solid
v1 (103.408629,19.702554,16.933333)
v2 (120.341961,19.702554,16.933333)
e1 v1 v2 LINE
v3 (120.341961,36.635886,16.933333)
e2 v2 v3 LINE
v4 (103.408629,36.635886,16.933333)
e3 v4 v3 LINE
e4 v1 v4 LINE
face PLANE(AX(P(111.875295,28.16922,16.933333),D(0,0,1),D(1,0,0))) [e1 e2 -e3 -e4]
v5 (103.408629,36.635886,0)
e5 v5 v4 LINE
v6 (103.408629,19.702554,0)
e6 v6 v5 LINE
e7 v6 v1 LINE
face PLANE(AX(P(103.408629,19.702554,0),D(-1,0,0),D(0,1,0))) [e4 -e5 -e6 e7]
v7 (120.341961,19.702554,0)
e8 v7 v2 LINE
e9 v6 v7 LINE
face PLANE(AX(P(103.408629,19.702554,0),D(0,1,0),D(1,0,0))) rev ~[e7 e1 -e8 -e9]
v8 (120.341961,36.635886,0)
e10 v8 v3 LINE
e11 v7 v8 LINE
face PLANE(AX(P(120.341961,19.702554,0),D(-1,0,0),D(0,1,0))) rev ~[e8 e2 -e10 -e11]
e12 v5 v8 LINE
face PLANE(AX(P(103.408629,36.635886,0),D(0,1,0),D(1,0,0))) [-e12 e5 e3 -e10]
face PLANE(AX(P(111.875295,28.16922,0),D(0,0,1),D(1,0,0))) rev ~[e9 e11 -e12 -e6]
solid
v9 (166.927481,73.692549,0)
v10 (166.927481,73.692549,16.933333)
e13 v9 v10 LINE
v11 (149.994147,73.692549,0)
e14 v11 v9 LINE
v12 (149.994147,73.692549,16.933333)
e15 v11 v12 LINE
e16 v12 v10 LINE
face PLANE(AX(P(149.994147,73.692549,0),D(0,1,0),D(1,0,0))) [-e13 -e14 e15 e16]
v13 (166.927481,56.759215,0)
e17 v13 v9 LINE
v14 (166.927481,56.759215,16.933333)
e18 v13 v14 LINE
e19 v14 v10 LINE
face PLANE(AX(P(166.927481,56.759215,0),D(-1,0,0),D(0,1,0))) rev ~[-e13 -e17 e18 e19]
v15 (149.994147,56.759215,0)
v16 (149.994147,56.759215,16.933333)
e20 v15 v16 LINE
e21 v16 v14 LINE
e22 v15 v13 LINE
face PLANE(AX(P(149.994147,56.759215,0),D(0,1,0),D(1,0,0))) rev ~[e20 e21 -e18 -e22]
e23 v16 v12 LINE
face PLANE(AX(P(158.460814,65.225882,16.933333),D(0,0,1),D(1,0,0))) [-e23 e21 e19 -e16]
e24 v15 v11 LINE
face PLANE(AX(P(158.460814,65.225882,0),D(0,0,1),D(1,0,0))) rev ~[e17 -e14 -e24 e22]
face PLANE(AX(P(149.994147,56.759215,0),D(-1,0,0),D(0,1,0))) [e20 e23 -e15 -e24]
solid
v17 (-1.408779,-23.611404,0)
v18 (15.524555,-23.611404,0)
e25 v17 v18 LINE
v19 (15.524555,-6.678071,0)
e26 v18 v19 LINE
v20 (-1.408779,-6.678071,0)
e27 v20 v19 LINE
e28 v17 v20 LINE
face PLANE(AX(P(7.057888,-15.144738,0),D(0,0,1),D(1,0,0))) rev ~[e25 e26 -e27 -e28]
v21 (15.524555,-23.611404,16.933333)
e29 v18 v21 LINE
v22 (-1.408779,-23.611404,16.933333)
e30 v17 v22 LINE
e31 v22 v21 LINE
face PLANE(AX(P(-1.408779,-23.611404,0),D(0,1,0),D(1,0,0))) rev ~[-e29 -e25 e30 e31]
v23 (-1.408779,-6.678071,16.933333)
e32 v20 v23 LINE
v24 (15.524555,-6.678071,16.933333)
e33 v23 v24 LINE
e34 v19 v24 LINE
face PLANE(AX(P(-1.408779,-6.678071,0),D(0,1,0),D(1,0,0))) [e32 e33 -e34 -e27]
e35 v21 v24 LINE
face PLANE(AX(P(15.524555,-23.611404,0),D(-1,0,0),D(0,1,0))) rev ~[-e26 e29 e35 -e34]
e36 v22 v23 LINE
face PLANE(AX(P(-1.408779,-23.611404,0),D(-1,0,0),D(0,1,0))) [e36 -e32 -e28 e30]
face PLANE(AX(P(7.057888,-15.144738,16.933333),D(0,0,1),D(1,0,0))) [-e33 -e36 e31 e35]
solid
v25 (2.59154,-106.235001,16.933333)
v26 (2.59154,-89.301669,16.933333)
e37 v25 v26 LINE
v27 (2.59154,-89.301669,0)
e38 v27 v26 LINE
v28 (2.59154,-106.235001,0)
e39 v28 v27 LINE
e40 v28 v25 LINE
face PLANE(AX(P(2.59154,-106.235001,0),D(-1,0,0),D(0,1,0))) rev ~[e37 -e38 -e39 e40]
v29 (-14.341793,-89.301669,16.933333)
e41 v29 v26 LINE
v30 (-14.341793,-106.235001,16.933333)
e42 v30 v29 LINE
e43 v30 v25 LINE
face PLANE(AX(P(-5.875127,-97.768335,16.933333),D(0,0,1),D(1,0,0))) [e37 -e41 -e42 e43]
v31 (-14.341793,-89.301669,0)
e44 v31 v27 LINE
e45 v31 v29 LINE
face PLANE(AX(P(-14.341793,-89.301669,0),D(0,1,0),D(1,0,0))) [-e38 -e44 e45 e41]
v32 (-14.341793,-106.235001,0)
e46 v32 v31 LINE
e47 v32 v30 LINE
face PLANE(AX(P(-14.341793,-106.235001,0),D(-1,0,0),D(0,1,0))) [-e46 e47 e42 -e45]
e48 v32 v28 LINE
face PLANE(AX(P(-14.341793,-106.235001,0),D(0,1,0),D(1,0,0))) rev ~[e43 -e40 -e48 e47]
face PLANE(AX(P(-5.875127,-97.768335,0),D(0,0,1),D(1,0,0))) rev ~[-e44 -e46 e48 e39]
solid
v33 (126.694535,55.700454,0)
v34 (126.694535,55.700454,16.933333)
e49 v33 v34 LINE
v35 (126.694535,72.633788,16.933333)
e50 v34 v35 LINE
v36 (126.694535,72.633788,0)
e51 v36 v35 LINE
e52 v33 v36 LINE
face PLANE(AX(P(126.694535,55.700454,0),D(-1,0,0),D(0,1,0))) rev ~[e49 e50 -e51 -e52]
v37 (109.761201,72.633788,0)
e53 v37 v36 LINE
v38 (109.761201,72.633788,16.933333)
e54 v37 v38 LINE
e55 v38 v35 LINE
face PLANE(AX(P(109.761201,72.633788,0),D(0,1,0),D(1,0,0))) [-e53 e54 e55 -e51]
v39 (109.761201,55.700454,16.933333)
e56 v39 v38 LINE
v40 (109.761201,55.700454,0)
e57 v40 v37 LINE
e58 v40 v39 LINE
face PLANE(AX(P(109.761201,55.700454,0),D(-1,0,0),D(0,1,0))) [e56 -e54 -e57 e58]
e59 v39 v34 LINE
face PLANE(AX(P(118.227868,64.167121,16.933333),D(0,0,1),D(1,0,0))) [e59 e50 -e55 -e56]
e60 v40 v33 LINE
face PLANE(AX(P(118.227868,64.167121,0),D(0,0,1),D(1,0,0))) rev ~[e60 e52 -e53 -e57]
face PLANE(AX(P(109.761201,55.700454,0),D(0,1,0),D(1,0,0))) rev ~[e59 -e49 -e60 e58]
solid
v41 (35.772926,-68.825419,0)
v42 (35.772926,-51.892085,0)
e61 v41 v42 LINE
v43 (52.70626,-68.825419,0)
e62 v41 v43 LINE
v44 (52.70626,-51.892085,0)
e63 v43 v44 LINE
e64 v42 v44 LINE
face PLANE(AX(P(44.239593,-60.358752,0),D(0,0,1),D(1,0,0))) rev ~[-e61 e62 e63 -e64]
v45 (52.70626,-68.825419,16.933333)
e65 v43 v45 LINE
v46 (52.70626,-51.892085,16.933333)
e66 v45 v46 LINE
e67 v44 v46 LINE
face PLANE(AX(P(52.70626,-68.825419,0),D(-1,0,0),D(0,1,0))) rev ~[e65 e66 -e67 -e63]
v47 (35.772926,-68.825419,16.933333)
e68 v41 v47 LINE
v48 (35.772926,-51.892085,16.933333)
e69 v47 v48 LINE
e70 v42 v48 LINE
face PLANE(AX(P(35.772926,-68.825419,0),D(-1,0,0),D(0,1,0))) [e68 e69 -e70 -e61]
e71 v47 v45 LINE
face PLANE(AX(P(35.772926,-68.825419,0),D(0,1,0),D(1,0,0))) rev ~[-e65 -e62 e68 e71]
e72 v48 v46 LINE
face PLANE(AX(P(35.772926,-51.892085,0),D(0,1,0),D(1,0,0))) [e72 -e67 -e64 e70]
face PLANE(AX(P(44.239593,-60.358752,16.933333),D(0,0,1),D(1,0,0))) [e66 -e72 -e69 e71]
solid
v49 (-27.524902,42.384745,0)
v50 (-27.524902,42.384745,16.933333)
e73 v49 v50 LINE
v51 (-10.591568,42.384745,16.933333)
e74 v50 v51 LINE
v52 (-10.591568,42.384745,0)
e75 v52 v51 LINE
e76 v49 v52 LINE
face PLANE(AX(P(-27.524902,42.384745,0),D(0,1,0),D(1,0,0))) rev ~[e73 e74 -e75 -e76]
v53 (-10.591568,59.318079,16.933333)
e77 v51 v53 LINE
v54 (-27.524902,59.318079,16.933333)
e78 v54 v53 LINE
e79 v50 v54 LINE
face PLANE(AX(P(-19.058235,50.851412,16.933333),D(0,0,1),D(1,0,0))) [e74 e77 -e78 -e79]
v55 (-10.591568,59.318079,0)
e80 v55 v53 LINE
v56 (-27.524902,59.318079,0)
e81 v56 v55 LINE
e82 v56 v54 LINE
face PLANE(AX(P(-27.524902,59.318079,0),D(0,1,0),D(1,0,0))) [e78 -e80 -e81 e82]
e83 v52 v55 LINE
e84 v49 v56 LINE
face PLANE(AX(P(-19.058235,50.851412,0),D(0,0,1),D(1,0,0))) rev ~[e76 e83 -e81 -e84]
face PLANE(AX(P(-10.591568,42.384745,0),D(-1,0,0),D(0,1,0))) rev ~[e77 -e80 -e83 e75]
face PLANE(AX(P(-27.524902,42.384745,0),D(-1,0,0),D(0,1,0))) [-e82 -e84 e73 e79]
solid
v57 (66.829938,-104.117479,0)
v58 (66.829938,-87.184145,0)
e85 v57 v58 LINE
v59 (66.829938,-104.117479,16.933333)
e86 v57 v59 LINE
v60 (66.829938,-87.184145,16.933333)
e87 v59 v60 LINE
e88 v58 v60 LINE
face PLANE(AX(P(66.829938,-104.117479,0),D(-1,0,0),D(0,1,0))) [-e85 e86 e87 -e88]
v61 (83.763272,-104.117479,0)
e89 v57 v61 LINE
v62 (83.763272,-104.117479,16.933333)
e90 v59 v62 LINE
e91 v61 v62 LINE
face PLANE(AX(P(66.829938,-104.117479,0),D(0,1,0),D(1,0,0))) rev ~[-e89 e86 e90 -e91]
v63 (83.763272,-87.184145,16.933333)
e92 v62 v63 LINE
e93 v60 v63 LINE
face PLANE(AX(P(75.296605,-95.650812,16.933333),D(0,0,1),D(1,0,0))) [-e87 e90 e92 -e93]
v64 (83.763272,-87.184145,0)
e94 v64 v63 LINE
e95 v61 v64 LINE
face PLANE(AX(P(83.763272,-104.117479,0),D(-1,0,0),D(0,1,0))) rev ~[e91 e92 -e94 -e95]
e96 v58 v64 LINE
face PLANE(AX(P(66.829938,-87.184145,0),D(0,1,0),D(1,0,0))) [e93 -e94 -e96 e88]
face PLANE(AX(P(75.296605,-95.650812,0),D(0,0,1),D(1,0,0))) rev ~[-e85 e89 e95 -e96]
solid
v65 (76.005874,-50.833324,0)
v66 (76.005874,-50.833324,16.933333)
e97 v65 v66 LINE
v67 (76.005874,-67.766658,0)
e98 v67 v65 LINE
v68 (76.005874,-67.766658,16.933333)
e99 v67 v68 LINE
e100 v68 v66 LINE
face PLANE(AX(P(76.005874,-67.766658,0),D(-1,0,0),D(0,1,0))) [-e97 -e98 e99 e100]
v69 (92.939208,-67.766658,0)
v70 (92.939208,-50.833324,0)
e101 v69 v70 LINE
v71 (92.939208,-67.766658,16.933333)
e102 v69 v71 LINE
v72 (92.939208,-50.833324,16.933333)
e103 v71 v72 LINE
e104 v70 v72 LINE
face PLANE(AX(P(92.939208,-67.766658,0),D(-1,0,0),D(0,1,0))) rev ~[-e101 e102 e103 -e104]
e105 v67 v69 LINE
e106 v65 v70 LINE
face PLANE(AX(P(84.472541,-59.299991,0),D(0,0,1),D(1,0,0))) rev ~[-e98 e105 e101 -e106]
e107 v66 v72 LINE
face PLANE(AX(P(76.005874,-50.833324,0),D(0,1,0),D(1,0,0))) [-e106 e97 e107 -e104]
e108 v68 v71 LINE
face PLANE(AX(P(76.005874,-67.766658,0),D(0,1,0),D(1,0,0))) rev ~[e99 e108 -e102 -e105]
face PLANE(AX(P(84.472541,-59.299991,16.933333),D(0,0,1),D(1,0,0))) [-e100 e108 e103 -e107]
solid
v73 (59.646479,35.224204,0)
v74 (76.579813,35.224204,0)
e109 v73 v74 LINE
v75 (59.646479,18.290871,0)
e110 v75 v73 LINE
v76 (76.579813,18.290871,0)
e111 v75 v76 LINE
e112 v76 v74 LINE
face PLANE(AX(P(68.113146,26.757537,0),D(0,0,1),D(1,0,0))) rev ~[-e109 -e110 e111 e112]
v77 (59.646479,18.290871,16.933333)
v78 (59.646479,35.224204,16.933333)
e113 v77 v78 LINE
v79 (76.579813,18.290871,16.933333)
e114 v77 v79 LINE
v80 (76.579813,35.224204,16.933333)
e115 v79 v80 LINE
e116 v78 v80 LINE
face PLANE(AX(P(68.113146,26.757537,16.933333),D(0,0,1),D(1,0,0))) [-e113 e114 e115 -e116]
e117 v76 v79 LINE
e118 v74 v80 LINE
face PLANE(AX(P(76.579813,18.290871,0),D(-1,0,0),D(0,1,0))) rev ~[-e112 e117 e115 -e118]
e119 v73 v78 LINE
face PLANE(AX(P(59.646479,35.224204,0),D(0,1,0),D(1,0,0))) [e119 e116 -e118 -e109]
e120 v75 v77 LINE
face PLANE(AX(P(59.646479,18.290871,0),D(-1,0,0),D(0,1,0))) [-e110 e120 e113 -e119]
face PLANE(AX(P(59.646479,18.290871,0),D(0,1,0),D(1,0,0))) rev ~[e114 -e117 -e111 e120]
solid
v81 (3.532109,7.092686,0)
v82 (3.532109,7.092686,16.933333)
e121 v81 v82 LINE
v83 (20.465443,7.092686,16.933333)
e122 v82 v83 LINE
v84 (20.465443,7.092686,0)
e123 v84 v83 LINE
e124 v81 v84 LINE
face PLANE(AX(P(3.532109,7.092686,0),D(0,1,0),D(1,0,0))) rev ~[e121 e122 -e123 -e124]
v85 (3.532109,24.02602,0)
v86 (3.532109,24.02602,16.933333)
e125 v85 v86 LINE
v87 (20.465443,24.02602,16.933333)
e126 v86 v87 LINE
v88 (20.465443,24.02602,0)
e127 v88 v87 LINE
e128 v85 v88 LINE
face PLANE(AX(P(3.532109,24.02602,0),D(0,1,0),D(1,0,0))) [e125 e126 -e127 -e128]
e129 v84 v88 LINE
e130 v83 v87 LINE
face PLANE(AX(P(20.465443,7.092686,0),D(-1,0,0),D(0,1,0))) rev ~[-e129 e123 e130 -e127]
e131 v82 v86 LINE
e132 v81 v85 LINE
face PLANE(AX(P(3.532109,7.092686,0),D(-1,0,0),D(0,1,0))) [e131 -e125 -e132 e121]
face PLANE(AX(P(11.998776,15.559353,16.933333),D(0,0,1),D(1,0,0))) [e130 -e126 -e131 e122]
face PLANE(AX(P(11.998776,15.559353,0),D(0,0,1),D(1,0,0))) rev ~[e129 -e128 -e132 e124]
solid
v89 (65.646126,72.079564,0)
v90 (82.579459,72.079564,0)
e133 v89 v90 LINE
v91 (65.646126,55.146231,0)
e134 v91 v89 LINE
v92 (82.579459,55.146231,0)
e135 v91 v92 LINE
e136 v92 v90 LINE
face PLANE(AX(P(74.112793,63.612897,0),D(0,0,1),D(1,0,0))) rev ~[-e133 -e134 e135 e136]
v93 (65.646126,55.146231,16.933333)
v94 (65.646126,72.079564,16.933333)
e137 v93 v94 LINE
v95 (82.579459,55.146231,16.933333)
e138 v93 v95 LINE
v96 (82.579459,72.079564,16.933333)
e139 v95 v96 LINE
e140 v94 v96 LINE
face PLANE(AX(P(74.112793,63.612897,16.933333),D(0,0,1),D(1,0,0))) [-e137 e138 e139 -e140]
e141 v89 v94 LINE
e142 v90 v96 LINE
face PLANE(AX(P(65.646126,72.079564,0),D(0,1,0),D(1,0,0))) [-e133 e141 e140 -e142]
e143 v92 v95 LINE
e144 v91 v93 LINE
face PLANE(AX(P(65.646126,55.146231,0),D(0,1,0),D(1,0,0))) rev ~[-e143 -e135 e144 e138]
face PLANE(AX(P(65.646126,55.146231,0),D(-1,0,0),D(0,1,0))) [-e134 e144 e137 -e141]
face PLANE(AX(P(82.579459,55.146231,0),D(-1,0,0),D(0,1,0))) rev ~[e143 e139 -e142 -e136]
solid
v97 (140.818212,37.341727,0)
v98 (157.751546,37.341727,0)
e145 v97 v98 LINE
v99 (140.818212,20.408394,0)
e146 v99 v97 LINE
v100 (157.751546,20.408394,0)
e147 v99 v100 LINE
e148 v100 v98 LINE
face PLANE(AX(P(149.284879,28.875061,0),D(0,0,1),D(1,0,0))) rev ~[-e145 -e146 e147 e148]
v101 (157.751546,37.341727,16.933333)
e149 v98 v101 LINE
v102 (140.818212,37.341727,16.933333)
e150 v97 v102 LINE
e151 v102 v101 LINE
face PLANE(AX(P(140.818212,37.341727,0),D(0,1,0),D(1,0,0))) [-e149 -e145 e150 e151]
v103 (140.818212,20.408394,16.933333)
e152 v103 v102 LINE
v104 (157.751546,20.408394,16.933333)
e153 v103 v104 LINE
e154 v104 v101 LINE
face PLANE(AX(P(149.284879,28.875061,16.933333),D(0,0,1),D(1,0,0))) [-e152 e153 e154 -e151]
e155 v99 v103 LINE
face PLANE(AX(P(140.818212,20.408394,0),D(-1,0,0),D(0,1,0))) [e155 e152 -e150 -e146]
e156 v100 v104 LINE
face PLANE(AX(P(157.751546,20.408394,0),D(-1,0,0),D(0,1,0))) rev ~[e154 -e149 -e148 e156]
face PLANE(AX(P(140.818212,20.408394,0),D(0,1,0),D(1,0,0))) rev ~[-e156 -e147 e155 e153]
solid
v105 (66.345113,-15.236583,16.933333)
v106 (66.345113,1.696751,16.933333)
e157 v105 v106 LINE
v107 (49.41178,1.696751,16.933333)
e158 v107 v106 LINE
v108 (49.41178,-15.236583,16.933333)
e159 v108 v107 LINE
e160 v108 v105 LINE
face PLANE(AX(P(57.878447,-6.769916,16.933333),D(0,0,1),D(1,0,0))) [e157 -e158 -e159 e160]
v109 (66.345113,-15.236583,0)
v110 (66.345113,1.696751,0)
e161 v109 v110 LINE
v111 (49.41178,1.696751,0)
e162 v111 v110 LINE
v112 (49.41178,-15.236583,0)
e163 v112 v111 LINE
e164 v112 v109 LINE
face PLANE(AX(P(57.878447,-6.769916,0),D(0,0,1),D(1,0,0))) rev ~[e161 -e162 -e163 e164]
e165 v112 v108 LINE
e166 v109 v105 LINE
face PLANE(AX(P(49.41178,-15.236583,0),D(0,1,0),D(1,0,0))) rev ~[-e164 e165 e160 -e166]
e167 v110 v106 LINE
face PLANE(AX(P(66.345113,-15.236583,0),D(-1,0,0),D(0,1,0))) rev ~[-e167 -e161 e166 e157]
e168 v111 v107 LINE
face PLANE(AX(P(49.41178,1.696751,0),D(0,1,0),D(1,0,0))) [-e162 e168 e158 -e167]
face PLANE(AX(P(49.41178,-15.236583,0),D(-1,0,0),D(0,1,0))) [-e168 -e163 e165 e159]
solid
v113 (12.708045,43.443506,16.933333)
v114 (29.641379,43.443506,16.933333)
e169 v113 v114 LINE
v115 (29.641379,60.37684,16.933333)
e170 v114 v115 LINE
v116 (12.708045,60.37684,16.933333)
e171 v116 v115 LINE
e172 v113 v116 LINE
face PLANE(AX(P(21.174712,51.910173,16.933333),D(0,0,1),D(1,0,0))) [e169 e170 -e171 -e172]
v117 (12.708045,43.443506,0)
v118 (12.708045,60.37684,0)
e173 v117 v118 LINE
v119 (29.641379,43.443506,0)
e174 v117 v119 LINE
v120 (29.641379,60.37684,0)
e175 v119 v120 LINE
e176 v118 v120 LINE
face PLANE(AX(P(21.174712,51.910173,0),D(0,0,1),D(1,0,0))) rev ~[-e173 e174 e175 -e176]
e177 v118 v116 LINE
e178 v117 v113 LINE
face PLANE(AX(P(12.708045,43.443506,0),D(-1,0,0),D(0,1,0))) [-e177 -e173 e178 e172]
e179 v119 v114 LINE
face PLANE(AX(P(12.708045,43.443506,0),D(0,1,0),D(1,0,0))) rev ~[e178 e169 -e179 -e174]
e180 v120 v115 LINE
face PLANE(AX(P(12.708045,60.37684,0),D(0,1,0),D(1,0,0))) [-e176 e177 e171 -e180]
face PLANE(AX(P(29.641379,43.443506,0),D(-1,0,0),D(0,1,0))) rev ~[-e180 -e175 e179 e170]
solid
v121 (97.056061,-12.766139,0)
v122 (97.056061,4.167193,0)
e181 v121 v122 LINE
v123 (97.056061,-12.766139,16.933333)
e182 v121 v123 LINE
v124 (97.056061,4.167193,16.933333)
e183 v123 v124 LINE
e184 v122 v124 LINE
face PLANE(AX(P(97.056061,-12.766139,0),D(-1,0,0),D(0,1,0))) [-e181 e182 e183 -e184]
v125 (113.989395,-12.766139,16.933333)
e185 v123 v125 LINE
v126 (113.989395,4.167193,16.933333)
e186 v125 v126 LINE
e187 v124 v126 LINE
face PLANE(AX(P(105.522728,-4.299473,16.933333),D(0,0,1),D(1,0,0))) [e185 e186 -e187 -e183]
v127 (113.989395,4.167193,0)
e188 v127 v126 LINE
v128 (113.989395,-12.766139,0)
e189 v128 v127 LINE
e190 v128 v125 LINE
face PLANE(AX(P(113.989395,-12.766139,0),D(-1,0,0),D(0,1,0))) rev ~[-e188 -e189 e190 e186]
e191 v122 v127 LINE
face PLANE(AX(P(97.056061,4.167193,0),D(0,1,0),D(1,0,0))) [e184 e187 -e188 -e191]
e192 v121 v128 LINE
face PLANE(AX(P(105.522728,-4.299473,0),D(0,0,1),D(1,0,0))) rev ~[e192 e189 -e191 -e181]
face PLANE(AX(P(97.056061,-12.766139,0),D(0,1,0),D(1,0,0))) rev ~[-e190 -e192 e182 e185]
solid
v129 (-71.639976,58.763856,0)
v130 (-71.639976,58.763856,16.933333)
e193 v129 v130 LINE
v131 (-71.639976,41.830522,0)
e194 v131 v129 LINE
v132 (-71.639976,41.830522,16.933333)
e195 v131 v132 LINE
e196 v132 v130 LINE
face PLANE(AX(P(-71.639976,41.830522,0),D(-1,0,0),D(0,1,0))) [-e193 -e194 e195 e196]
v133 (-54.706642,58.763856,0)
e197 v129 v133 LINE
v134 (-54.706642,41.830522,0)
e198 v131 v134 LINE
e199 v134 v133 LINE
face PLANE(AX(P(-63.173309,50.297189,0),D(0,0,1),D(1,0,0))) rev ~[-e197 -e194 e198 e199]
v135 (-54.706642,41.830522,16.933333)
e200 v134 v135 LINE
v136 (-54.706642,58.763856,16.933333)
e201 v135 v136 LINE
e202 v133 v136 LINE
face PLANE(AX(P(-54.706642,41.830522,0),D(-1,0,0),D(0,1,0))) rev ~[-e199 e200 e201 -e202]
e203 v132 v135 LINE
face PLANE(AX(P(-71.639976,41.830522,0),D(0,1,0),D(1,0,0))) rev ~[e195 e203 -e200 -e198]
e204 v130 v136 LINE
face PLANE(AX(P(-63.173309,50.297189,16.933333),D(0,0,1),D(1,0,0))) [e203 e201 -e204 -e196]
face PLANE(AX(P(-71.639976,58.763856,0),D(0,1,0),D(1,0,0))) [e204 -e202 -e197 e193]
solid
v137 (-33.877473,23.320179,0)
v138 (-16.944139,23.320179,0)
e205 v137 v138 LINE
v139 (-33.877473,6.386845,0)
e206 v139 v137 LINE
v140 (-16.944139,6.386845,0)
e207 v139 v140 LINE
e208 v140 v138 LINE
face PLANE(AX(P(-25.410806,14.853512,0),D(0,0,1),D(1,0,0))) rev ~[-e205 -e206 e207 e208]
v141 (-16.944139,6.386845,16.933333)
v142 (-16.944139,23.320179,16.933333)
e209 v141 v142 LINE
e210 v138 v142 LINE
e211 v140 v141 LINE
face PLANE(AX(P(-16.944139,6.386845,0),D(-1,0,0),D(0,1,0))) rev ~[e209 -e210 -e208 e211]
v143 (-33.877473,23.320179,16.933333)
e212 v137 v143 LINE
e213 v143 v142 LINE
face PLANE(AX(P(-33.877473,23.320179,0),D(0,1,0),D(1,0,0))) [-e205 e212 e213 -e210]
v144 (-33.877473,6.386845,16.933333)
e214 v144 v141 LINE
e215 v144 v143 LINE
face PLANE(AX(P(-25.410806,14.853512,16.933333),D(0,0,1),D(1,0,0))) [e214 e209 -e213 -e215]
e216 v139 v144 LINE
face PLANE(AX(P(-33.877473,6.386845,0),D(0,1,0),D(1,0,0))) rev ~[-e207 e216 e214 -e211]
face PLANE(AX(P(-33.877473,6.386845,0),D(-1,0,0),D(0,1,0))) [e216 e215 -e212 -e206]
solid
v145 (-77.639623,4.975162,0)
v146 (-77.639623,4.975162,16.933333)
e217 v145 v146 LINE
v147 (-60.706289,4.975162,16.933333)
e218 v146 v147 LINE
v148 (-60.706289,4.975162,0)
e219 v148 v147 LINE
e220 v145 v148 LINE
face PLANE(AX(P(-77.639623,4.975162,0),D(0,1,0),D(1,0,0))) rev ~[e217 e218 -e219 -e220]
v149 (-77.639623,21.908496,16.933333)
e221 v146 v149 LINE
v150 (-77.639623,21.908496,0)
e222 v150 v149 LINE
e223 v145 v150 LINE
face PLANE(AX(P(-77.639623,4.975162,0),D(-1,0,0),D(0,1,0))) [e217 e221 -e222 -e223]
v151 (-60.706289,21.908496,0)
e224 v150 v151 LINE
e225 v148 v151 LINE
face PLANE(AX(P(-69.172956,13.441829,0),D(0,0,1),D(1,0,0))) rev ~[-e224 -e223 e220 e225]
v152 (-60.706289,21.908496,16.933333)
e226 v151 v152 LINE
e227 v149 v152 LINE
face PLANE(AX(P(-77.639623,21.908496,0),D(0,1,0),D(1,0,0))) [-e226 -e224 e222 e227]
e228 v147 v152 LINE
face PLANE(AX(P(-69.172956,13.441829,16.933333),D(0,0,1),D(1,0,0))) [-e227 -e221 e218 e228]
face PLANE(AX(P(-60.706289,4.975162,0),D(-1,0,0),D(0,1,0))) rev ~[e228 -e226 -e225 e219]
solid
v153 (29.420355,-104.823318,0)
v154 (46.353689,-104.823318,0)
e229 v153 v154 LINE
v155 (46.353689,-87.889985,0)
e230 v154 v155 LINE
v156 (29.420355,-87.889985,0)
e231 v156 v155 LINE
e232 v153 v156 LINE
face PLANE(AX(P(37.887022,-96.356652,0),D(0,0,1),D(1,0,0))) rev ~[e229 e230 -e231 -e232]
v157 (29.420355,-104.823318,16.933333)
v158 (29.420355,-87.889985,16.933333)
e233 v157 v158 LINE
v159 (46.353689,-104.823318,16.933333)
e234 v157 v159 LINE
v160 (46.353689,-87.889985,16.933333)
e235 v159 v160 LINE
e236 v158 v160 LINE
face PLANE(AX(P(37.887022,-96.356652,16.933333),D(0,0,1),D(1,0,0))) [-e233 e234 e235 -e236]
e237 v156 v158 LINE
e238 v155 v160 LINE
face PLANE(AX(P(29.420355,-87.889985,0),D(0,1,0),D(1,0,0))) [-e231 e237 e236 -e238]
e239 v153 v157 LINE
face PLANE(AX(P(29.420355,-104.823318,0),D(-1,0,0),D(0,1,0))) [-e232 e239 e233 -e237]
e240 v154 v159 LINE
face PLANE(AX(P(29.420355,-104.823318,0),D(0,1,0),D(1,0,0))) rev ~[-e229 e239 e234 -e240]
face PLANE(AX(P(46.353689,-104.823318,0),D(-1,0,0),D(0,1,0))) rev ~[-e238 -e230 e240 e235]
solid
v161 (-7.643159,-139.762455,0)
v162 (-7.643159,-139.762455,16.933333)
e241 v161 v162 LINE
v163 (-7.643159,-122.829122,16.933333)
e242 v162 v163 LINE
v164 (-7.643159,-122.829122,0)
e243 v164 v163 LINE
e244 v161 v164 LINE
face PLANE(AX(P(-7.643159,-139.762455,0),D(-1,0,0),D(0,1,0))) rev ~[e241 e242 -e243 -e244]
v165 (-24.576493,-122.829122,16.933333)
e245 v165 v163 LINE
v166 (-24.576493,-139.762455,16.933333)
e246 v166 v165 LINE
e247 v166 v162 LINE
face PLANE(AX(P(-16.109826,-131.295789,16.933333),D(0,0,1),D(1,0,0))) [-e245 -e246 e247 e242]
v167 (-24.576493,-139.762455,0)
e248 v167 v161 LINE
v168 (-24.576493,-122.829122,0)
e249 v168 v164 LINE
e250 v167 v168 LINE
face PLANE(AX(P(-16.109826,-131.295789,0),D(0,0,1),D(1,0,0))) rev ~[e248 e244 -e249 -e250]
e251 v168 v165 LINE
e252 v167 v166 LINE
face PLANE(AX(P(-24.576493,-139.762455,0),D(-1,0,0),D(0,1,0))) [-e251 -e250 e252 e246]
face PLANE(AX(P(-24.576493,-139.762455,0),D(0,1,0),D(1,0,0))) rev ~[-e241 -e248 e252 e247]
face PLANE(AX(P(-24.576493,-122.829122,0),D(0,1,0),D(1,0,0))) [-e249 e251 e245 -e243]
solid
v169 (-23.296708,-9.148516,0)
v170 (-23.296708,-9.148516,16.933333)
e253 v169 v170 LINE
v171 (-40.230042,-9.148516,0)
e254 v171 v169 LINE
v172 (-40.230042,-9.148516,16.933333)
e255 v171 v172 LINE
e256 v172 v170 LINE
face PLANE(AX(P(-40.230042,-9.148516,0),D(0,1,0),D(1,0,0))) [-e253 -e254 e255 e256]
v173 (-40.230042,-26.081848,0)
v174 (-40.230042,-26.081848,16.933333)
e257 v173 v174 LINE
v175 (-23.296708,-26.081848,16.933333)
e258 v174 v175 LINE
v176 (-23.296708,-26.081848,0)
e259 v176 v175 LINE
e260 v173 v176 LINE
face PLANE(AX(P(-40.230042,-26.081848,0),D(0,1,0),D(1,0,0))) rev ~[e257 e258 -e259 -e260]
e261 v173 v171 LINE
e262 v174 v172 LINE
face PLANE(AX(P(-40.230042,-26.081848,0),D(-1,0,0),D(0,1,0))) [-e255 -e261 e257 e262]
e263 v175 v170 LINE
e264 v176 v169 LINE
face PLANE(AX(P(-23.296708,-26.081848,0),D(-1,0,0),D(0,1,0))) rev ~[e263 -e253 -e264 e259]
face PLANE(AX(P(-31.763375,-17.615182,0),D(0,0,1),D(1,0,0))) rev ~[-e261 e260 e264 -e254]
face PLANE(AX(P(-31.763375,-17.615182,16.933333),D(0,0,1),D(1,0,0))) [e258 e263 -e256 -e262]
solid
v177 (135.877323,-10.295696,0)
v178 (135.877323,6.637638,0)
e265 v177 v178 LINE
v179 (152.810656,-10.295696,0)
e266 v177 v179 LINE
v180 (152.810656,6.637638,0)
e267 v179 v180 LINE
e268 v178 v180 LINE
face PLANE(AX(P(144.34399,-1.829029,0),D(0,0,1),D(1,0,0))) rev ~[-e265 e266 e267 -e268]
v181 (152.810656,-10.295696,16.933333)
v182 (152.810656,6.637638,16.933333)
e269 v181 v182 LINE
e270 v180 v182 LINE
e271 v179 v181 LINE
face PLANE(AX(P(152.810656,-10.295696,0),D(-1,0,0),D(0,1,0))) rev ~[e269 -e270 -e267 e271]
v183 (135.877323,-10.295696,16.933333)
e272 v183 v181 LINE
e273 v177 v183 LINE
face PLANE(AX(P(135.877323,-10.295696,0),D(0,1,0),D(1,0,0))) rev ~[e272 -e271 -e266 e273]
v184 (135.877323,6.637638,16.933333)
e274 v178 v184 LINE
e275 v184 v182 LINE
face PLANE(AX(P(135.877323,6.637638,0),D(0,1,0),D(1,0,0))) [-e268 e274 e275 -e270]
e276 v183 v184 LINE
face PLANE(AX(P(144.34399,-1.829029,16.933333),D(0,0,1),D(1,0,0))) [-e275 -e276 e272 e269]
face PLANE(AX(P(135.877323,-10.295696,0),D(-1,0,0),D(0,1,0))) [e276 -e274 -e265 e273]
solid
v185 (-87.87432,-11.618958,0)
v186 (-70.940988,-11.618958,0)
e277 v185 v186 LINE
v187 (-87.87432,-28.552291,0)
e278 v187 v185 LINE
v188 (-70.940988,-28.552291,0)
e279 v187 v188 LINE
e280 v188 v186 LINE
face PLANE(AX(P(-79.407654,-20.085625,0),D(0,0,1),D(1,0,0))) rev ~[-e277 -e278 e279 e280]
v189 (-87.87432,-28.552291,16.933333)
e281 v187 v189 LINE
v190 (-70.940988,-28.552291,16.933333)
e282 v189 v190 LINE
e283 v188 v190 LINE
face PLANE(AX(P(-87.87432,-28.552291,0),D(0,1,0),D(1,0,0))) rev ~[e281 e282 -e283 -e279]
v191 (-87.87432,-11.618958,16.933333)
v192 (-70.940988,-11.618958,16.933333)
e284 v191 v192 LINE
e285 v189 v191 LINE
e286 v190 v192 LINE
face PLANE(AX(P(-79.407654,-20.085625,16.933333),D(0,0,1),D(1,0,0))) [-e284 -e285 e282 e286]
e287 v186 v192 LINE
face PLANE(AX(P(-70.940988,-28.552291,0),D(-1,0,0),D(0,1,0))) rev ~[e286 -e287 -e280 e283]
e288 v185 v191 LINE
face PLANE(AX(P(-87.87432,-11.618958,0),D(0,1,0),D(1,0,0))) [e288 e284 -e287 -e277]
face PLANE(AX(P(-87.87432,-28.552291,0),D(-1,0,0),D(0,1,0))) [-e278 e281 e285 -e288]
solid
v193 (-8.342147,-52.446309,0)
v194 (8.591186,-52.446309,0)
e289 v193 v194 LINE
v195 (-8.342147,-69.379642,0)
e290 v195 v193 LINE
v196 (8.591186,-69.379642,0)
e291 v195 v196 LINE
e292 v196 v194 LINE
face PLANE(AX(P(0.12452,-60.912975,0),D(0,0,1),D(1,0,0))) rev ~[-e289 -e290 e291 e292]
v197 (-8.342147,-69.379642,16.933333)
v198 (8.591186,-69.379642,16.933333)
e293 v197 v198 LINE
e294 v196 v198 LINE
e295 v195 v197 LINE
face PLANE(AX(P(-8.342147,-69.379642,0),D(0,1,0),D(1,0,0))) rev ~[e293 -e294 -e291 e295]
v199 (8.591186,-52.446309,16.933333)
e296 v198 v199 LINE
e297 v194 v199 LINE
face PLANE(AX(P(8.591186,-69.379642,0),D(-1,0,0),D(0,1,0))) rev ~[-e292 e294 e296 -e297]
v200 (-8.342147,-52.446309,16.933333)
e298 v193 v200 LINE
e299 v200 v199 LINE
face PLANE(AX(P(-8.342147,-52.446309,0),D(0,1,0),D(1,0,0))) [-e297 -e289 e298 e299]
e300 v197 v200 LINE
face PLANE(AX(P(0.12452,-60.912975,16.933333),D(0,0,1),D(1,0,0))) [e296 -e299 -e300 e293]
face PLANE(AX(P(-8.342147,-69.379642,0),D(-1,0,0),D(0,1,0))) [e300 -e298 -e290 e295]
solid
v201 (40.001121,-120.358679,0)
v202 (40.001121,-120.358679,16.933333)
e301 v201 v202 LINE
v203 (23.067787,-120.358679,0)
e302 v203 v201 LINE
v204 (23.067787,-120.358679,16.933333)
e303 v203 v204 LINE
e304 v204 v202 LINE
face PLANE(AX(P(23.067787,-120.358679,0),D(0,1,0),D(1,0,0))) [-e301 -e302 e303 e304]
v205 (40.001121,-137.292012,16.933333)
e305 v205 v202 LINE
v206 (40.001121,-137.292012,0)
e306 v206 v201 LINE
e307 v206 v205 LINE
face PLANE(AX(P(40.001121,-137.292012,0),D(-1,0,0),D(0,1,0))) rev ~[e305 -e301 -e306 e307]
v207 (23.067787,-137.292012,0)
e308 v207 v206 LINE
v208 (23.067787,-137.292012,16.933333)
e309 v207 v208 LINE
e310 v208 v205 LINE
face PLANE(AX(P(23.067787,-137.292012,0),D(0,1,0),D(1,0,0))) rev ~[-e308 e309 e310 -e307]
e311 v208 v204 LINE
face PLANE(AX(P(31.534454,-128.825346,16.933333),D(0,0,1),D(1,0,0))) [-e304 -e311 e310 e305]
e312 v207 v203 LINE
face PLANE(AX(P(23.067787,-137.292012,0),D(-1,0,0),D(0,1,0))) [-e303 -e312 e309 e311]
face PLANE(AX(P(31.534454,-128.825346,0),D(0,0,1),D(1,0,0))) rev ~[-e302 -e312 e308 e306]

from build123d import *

# Parameters (mm, degrees)
F0_W     = 16.933334
F0_H     = 16.933334
F0_W_2   = 16.933333
F0_H_2   = 16.933333
F1_DEPTH = 16.933333


with BuildPart() as f1:
    # F0 (on Top) → F1 (new body)
    with BuildSketch(Plane.XY):
        with Locations((-63.173309, 50.297189)):
            Rectangle(F0_W, F0_H)
        with Locations((-19.058235, 50.851412)):
            Rectangle(F0_W, F0_H)
        with Locations((21.174712, 51.910173)):
            Rectangle(F0_W, F0_H)
        with Locations((-69.172956, 13.441829)):
            Rectangle(F0_W, F0_H)
        with Locations((-25.410806, 14.853512)):
            Rectangle(F0_W_2, F0_H)
        with Locations((11.998776, 15.559353)):
            Rectangle(F0_W_2, F0_H)
        with Locations((-79.407654, -20.085625)):
            Rectangle(F0_W_2, F0_H_2)
        with Locations((-31.763375, -17.615182)):
            Rectangle(F0_W, F0_H_2)
        with Locations((7.057888, -15.144738)):
            Rectangle(F0_W, F0_H_2)
        with Locations((74.112793, 63.612897)):
            Rectangle(F0_W_2, F0_H_2)
        with Locations((118.227868, 64.167121)):
            Rectangle(F0_W_2, F0_H)
        with Locations((158.460814, 65.225882)):
            Rectangle(F0_W_2, F0_H)
        with Locations((68.113146, 26.757537)):
            Rectangle(F0_W_2, F0_H_2)
        with Locations((111.875295, 28.16922)):
            Rectangle(F0_W_2, F0_H_2)
        with Locations((149.284879, 28.875061)):
            Rectangle(F0_W, F0_H_2)
        with Locations((57.878447, -6.769916)):
            Rectangle(F0_W_2, F0_H_2)
        with Locations((105.522728, -4.299473)):
            Rectangle(F0_W_2, F0_H_2)
        with Locations((144.34399, -1.829029)):
            Rectangle(F0_W_2, F0_H_2)
        with Locations((0.12452, -60.912975)):
            Rectangle(F0_W_2, F0_H_2)
        with Locations((44.239593, -60.358752)):
            Rectangle(F0_W_2, F0_H)
        with Locations((84.472541, -59.299991)):
            Rectangle(F0_W, F0_H)
        with Locations((-5.875127, -97.768335)):
            Rectangle(F0_W_2, F0_H_2)
        with Locations((37.887022, -96.356652)):
            Rectangle(F0_W, F0_H_2)
        with Locations((75.296605, -95.650812)):
            Rectangle(F0_W, F0_H_2)
        with Locations((-16.109826, -131.295789)):
            Rectangle(F0_W, F0_H_2)
        with Locations((31.534454, -128.825346)):
            Rectangle(F0_W, F0_H_2)
    extrude(amount=F1_DEPTH)


solid = f1.part
